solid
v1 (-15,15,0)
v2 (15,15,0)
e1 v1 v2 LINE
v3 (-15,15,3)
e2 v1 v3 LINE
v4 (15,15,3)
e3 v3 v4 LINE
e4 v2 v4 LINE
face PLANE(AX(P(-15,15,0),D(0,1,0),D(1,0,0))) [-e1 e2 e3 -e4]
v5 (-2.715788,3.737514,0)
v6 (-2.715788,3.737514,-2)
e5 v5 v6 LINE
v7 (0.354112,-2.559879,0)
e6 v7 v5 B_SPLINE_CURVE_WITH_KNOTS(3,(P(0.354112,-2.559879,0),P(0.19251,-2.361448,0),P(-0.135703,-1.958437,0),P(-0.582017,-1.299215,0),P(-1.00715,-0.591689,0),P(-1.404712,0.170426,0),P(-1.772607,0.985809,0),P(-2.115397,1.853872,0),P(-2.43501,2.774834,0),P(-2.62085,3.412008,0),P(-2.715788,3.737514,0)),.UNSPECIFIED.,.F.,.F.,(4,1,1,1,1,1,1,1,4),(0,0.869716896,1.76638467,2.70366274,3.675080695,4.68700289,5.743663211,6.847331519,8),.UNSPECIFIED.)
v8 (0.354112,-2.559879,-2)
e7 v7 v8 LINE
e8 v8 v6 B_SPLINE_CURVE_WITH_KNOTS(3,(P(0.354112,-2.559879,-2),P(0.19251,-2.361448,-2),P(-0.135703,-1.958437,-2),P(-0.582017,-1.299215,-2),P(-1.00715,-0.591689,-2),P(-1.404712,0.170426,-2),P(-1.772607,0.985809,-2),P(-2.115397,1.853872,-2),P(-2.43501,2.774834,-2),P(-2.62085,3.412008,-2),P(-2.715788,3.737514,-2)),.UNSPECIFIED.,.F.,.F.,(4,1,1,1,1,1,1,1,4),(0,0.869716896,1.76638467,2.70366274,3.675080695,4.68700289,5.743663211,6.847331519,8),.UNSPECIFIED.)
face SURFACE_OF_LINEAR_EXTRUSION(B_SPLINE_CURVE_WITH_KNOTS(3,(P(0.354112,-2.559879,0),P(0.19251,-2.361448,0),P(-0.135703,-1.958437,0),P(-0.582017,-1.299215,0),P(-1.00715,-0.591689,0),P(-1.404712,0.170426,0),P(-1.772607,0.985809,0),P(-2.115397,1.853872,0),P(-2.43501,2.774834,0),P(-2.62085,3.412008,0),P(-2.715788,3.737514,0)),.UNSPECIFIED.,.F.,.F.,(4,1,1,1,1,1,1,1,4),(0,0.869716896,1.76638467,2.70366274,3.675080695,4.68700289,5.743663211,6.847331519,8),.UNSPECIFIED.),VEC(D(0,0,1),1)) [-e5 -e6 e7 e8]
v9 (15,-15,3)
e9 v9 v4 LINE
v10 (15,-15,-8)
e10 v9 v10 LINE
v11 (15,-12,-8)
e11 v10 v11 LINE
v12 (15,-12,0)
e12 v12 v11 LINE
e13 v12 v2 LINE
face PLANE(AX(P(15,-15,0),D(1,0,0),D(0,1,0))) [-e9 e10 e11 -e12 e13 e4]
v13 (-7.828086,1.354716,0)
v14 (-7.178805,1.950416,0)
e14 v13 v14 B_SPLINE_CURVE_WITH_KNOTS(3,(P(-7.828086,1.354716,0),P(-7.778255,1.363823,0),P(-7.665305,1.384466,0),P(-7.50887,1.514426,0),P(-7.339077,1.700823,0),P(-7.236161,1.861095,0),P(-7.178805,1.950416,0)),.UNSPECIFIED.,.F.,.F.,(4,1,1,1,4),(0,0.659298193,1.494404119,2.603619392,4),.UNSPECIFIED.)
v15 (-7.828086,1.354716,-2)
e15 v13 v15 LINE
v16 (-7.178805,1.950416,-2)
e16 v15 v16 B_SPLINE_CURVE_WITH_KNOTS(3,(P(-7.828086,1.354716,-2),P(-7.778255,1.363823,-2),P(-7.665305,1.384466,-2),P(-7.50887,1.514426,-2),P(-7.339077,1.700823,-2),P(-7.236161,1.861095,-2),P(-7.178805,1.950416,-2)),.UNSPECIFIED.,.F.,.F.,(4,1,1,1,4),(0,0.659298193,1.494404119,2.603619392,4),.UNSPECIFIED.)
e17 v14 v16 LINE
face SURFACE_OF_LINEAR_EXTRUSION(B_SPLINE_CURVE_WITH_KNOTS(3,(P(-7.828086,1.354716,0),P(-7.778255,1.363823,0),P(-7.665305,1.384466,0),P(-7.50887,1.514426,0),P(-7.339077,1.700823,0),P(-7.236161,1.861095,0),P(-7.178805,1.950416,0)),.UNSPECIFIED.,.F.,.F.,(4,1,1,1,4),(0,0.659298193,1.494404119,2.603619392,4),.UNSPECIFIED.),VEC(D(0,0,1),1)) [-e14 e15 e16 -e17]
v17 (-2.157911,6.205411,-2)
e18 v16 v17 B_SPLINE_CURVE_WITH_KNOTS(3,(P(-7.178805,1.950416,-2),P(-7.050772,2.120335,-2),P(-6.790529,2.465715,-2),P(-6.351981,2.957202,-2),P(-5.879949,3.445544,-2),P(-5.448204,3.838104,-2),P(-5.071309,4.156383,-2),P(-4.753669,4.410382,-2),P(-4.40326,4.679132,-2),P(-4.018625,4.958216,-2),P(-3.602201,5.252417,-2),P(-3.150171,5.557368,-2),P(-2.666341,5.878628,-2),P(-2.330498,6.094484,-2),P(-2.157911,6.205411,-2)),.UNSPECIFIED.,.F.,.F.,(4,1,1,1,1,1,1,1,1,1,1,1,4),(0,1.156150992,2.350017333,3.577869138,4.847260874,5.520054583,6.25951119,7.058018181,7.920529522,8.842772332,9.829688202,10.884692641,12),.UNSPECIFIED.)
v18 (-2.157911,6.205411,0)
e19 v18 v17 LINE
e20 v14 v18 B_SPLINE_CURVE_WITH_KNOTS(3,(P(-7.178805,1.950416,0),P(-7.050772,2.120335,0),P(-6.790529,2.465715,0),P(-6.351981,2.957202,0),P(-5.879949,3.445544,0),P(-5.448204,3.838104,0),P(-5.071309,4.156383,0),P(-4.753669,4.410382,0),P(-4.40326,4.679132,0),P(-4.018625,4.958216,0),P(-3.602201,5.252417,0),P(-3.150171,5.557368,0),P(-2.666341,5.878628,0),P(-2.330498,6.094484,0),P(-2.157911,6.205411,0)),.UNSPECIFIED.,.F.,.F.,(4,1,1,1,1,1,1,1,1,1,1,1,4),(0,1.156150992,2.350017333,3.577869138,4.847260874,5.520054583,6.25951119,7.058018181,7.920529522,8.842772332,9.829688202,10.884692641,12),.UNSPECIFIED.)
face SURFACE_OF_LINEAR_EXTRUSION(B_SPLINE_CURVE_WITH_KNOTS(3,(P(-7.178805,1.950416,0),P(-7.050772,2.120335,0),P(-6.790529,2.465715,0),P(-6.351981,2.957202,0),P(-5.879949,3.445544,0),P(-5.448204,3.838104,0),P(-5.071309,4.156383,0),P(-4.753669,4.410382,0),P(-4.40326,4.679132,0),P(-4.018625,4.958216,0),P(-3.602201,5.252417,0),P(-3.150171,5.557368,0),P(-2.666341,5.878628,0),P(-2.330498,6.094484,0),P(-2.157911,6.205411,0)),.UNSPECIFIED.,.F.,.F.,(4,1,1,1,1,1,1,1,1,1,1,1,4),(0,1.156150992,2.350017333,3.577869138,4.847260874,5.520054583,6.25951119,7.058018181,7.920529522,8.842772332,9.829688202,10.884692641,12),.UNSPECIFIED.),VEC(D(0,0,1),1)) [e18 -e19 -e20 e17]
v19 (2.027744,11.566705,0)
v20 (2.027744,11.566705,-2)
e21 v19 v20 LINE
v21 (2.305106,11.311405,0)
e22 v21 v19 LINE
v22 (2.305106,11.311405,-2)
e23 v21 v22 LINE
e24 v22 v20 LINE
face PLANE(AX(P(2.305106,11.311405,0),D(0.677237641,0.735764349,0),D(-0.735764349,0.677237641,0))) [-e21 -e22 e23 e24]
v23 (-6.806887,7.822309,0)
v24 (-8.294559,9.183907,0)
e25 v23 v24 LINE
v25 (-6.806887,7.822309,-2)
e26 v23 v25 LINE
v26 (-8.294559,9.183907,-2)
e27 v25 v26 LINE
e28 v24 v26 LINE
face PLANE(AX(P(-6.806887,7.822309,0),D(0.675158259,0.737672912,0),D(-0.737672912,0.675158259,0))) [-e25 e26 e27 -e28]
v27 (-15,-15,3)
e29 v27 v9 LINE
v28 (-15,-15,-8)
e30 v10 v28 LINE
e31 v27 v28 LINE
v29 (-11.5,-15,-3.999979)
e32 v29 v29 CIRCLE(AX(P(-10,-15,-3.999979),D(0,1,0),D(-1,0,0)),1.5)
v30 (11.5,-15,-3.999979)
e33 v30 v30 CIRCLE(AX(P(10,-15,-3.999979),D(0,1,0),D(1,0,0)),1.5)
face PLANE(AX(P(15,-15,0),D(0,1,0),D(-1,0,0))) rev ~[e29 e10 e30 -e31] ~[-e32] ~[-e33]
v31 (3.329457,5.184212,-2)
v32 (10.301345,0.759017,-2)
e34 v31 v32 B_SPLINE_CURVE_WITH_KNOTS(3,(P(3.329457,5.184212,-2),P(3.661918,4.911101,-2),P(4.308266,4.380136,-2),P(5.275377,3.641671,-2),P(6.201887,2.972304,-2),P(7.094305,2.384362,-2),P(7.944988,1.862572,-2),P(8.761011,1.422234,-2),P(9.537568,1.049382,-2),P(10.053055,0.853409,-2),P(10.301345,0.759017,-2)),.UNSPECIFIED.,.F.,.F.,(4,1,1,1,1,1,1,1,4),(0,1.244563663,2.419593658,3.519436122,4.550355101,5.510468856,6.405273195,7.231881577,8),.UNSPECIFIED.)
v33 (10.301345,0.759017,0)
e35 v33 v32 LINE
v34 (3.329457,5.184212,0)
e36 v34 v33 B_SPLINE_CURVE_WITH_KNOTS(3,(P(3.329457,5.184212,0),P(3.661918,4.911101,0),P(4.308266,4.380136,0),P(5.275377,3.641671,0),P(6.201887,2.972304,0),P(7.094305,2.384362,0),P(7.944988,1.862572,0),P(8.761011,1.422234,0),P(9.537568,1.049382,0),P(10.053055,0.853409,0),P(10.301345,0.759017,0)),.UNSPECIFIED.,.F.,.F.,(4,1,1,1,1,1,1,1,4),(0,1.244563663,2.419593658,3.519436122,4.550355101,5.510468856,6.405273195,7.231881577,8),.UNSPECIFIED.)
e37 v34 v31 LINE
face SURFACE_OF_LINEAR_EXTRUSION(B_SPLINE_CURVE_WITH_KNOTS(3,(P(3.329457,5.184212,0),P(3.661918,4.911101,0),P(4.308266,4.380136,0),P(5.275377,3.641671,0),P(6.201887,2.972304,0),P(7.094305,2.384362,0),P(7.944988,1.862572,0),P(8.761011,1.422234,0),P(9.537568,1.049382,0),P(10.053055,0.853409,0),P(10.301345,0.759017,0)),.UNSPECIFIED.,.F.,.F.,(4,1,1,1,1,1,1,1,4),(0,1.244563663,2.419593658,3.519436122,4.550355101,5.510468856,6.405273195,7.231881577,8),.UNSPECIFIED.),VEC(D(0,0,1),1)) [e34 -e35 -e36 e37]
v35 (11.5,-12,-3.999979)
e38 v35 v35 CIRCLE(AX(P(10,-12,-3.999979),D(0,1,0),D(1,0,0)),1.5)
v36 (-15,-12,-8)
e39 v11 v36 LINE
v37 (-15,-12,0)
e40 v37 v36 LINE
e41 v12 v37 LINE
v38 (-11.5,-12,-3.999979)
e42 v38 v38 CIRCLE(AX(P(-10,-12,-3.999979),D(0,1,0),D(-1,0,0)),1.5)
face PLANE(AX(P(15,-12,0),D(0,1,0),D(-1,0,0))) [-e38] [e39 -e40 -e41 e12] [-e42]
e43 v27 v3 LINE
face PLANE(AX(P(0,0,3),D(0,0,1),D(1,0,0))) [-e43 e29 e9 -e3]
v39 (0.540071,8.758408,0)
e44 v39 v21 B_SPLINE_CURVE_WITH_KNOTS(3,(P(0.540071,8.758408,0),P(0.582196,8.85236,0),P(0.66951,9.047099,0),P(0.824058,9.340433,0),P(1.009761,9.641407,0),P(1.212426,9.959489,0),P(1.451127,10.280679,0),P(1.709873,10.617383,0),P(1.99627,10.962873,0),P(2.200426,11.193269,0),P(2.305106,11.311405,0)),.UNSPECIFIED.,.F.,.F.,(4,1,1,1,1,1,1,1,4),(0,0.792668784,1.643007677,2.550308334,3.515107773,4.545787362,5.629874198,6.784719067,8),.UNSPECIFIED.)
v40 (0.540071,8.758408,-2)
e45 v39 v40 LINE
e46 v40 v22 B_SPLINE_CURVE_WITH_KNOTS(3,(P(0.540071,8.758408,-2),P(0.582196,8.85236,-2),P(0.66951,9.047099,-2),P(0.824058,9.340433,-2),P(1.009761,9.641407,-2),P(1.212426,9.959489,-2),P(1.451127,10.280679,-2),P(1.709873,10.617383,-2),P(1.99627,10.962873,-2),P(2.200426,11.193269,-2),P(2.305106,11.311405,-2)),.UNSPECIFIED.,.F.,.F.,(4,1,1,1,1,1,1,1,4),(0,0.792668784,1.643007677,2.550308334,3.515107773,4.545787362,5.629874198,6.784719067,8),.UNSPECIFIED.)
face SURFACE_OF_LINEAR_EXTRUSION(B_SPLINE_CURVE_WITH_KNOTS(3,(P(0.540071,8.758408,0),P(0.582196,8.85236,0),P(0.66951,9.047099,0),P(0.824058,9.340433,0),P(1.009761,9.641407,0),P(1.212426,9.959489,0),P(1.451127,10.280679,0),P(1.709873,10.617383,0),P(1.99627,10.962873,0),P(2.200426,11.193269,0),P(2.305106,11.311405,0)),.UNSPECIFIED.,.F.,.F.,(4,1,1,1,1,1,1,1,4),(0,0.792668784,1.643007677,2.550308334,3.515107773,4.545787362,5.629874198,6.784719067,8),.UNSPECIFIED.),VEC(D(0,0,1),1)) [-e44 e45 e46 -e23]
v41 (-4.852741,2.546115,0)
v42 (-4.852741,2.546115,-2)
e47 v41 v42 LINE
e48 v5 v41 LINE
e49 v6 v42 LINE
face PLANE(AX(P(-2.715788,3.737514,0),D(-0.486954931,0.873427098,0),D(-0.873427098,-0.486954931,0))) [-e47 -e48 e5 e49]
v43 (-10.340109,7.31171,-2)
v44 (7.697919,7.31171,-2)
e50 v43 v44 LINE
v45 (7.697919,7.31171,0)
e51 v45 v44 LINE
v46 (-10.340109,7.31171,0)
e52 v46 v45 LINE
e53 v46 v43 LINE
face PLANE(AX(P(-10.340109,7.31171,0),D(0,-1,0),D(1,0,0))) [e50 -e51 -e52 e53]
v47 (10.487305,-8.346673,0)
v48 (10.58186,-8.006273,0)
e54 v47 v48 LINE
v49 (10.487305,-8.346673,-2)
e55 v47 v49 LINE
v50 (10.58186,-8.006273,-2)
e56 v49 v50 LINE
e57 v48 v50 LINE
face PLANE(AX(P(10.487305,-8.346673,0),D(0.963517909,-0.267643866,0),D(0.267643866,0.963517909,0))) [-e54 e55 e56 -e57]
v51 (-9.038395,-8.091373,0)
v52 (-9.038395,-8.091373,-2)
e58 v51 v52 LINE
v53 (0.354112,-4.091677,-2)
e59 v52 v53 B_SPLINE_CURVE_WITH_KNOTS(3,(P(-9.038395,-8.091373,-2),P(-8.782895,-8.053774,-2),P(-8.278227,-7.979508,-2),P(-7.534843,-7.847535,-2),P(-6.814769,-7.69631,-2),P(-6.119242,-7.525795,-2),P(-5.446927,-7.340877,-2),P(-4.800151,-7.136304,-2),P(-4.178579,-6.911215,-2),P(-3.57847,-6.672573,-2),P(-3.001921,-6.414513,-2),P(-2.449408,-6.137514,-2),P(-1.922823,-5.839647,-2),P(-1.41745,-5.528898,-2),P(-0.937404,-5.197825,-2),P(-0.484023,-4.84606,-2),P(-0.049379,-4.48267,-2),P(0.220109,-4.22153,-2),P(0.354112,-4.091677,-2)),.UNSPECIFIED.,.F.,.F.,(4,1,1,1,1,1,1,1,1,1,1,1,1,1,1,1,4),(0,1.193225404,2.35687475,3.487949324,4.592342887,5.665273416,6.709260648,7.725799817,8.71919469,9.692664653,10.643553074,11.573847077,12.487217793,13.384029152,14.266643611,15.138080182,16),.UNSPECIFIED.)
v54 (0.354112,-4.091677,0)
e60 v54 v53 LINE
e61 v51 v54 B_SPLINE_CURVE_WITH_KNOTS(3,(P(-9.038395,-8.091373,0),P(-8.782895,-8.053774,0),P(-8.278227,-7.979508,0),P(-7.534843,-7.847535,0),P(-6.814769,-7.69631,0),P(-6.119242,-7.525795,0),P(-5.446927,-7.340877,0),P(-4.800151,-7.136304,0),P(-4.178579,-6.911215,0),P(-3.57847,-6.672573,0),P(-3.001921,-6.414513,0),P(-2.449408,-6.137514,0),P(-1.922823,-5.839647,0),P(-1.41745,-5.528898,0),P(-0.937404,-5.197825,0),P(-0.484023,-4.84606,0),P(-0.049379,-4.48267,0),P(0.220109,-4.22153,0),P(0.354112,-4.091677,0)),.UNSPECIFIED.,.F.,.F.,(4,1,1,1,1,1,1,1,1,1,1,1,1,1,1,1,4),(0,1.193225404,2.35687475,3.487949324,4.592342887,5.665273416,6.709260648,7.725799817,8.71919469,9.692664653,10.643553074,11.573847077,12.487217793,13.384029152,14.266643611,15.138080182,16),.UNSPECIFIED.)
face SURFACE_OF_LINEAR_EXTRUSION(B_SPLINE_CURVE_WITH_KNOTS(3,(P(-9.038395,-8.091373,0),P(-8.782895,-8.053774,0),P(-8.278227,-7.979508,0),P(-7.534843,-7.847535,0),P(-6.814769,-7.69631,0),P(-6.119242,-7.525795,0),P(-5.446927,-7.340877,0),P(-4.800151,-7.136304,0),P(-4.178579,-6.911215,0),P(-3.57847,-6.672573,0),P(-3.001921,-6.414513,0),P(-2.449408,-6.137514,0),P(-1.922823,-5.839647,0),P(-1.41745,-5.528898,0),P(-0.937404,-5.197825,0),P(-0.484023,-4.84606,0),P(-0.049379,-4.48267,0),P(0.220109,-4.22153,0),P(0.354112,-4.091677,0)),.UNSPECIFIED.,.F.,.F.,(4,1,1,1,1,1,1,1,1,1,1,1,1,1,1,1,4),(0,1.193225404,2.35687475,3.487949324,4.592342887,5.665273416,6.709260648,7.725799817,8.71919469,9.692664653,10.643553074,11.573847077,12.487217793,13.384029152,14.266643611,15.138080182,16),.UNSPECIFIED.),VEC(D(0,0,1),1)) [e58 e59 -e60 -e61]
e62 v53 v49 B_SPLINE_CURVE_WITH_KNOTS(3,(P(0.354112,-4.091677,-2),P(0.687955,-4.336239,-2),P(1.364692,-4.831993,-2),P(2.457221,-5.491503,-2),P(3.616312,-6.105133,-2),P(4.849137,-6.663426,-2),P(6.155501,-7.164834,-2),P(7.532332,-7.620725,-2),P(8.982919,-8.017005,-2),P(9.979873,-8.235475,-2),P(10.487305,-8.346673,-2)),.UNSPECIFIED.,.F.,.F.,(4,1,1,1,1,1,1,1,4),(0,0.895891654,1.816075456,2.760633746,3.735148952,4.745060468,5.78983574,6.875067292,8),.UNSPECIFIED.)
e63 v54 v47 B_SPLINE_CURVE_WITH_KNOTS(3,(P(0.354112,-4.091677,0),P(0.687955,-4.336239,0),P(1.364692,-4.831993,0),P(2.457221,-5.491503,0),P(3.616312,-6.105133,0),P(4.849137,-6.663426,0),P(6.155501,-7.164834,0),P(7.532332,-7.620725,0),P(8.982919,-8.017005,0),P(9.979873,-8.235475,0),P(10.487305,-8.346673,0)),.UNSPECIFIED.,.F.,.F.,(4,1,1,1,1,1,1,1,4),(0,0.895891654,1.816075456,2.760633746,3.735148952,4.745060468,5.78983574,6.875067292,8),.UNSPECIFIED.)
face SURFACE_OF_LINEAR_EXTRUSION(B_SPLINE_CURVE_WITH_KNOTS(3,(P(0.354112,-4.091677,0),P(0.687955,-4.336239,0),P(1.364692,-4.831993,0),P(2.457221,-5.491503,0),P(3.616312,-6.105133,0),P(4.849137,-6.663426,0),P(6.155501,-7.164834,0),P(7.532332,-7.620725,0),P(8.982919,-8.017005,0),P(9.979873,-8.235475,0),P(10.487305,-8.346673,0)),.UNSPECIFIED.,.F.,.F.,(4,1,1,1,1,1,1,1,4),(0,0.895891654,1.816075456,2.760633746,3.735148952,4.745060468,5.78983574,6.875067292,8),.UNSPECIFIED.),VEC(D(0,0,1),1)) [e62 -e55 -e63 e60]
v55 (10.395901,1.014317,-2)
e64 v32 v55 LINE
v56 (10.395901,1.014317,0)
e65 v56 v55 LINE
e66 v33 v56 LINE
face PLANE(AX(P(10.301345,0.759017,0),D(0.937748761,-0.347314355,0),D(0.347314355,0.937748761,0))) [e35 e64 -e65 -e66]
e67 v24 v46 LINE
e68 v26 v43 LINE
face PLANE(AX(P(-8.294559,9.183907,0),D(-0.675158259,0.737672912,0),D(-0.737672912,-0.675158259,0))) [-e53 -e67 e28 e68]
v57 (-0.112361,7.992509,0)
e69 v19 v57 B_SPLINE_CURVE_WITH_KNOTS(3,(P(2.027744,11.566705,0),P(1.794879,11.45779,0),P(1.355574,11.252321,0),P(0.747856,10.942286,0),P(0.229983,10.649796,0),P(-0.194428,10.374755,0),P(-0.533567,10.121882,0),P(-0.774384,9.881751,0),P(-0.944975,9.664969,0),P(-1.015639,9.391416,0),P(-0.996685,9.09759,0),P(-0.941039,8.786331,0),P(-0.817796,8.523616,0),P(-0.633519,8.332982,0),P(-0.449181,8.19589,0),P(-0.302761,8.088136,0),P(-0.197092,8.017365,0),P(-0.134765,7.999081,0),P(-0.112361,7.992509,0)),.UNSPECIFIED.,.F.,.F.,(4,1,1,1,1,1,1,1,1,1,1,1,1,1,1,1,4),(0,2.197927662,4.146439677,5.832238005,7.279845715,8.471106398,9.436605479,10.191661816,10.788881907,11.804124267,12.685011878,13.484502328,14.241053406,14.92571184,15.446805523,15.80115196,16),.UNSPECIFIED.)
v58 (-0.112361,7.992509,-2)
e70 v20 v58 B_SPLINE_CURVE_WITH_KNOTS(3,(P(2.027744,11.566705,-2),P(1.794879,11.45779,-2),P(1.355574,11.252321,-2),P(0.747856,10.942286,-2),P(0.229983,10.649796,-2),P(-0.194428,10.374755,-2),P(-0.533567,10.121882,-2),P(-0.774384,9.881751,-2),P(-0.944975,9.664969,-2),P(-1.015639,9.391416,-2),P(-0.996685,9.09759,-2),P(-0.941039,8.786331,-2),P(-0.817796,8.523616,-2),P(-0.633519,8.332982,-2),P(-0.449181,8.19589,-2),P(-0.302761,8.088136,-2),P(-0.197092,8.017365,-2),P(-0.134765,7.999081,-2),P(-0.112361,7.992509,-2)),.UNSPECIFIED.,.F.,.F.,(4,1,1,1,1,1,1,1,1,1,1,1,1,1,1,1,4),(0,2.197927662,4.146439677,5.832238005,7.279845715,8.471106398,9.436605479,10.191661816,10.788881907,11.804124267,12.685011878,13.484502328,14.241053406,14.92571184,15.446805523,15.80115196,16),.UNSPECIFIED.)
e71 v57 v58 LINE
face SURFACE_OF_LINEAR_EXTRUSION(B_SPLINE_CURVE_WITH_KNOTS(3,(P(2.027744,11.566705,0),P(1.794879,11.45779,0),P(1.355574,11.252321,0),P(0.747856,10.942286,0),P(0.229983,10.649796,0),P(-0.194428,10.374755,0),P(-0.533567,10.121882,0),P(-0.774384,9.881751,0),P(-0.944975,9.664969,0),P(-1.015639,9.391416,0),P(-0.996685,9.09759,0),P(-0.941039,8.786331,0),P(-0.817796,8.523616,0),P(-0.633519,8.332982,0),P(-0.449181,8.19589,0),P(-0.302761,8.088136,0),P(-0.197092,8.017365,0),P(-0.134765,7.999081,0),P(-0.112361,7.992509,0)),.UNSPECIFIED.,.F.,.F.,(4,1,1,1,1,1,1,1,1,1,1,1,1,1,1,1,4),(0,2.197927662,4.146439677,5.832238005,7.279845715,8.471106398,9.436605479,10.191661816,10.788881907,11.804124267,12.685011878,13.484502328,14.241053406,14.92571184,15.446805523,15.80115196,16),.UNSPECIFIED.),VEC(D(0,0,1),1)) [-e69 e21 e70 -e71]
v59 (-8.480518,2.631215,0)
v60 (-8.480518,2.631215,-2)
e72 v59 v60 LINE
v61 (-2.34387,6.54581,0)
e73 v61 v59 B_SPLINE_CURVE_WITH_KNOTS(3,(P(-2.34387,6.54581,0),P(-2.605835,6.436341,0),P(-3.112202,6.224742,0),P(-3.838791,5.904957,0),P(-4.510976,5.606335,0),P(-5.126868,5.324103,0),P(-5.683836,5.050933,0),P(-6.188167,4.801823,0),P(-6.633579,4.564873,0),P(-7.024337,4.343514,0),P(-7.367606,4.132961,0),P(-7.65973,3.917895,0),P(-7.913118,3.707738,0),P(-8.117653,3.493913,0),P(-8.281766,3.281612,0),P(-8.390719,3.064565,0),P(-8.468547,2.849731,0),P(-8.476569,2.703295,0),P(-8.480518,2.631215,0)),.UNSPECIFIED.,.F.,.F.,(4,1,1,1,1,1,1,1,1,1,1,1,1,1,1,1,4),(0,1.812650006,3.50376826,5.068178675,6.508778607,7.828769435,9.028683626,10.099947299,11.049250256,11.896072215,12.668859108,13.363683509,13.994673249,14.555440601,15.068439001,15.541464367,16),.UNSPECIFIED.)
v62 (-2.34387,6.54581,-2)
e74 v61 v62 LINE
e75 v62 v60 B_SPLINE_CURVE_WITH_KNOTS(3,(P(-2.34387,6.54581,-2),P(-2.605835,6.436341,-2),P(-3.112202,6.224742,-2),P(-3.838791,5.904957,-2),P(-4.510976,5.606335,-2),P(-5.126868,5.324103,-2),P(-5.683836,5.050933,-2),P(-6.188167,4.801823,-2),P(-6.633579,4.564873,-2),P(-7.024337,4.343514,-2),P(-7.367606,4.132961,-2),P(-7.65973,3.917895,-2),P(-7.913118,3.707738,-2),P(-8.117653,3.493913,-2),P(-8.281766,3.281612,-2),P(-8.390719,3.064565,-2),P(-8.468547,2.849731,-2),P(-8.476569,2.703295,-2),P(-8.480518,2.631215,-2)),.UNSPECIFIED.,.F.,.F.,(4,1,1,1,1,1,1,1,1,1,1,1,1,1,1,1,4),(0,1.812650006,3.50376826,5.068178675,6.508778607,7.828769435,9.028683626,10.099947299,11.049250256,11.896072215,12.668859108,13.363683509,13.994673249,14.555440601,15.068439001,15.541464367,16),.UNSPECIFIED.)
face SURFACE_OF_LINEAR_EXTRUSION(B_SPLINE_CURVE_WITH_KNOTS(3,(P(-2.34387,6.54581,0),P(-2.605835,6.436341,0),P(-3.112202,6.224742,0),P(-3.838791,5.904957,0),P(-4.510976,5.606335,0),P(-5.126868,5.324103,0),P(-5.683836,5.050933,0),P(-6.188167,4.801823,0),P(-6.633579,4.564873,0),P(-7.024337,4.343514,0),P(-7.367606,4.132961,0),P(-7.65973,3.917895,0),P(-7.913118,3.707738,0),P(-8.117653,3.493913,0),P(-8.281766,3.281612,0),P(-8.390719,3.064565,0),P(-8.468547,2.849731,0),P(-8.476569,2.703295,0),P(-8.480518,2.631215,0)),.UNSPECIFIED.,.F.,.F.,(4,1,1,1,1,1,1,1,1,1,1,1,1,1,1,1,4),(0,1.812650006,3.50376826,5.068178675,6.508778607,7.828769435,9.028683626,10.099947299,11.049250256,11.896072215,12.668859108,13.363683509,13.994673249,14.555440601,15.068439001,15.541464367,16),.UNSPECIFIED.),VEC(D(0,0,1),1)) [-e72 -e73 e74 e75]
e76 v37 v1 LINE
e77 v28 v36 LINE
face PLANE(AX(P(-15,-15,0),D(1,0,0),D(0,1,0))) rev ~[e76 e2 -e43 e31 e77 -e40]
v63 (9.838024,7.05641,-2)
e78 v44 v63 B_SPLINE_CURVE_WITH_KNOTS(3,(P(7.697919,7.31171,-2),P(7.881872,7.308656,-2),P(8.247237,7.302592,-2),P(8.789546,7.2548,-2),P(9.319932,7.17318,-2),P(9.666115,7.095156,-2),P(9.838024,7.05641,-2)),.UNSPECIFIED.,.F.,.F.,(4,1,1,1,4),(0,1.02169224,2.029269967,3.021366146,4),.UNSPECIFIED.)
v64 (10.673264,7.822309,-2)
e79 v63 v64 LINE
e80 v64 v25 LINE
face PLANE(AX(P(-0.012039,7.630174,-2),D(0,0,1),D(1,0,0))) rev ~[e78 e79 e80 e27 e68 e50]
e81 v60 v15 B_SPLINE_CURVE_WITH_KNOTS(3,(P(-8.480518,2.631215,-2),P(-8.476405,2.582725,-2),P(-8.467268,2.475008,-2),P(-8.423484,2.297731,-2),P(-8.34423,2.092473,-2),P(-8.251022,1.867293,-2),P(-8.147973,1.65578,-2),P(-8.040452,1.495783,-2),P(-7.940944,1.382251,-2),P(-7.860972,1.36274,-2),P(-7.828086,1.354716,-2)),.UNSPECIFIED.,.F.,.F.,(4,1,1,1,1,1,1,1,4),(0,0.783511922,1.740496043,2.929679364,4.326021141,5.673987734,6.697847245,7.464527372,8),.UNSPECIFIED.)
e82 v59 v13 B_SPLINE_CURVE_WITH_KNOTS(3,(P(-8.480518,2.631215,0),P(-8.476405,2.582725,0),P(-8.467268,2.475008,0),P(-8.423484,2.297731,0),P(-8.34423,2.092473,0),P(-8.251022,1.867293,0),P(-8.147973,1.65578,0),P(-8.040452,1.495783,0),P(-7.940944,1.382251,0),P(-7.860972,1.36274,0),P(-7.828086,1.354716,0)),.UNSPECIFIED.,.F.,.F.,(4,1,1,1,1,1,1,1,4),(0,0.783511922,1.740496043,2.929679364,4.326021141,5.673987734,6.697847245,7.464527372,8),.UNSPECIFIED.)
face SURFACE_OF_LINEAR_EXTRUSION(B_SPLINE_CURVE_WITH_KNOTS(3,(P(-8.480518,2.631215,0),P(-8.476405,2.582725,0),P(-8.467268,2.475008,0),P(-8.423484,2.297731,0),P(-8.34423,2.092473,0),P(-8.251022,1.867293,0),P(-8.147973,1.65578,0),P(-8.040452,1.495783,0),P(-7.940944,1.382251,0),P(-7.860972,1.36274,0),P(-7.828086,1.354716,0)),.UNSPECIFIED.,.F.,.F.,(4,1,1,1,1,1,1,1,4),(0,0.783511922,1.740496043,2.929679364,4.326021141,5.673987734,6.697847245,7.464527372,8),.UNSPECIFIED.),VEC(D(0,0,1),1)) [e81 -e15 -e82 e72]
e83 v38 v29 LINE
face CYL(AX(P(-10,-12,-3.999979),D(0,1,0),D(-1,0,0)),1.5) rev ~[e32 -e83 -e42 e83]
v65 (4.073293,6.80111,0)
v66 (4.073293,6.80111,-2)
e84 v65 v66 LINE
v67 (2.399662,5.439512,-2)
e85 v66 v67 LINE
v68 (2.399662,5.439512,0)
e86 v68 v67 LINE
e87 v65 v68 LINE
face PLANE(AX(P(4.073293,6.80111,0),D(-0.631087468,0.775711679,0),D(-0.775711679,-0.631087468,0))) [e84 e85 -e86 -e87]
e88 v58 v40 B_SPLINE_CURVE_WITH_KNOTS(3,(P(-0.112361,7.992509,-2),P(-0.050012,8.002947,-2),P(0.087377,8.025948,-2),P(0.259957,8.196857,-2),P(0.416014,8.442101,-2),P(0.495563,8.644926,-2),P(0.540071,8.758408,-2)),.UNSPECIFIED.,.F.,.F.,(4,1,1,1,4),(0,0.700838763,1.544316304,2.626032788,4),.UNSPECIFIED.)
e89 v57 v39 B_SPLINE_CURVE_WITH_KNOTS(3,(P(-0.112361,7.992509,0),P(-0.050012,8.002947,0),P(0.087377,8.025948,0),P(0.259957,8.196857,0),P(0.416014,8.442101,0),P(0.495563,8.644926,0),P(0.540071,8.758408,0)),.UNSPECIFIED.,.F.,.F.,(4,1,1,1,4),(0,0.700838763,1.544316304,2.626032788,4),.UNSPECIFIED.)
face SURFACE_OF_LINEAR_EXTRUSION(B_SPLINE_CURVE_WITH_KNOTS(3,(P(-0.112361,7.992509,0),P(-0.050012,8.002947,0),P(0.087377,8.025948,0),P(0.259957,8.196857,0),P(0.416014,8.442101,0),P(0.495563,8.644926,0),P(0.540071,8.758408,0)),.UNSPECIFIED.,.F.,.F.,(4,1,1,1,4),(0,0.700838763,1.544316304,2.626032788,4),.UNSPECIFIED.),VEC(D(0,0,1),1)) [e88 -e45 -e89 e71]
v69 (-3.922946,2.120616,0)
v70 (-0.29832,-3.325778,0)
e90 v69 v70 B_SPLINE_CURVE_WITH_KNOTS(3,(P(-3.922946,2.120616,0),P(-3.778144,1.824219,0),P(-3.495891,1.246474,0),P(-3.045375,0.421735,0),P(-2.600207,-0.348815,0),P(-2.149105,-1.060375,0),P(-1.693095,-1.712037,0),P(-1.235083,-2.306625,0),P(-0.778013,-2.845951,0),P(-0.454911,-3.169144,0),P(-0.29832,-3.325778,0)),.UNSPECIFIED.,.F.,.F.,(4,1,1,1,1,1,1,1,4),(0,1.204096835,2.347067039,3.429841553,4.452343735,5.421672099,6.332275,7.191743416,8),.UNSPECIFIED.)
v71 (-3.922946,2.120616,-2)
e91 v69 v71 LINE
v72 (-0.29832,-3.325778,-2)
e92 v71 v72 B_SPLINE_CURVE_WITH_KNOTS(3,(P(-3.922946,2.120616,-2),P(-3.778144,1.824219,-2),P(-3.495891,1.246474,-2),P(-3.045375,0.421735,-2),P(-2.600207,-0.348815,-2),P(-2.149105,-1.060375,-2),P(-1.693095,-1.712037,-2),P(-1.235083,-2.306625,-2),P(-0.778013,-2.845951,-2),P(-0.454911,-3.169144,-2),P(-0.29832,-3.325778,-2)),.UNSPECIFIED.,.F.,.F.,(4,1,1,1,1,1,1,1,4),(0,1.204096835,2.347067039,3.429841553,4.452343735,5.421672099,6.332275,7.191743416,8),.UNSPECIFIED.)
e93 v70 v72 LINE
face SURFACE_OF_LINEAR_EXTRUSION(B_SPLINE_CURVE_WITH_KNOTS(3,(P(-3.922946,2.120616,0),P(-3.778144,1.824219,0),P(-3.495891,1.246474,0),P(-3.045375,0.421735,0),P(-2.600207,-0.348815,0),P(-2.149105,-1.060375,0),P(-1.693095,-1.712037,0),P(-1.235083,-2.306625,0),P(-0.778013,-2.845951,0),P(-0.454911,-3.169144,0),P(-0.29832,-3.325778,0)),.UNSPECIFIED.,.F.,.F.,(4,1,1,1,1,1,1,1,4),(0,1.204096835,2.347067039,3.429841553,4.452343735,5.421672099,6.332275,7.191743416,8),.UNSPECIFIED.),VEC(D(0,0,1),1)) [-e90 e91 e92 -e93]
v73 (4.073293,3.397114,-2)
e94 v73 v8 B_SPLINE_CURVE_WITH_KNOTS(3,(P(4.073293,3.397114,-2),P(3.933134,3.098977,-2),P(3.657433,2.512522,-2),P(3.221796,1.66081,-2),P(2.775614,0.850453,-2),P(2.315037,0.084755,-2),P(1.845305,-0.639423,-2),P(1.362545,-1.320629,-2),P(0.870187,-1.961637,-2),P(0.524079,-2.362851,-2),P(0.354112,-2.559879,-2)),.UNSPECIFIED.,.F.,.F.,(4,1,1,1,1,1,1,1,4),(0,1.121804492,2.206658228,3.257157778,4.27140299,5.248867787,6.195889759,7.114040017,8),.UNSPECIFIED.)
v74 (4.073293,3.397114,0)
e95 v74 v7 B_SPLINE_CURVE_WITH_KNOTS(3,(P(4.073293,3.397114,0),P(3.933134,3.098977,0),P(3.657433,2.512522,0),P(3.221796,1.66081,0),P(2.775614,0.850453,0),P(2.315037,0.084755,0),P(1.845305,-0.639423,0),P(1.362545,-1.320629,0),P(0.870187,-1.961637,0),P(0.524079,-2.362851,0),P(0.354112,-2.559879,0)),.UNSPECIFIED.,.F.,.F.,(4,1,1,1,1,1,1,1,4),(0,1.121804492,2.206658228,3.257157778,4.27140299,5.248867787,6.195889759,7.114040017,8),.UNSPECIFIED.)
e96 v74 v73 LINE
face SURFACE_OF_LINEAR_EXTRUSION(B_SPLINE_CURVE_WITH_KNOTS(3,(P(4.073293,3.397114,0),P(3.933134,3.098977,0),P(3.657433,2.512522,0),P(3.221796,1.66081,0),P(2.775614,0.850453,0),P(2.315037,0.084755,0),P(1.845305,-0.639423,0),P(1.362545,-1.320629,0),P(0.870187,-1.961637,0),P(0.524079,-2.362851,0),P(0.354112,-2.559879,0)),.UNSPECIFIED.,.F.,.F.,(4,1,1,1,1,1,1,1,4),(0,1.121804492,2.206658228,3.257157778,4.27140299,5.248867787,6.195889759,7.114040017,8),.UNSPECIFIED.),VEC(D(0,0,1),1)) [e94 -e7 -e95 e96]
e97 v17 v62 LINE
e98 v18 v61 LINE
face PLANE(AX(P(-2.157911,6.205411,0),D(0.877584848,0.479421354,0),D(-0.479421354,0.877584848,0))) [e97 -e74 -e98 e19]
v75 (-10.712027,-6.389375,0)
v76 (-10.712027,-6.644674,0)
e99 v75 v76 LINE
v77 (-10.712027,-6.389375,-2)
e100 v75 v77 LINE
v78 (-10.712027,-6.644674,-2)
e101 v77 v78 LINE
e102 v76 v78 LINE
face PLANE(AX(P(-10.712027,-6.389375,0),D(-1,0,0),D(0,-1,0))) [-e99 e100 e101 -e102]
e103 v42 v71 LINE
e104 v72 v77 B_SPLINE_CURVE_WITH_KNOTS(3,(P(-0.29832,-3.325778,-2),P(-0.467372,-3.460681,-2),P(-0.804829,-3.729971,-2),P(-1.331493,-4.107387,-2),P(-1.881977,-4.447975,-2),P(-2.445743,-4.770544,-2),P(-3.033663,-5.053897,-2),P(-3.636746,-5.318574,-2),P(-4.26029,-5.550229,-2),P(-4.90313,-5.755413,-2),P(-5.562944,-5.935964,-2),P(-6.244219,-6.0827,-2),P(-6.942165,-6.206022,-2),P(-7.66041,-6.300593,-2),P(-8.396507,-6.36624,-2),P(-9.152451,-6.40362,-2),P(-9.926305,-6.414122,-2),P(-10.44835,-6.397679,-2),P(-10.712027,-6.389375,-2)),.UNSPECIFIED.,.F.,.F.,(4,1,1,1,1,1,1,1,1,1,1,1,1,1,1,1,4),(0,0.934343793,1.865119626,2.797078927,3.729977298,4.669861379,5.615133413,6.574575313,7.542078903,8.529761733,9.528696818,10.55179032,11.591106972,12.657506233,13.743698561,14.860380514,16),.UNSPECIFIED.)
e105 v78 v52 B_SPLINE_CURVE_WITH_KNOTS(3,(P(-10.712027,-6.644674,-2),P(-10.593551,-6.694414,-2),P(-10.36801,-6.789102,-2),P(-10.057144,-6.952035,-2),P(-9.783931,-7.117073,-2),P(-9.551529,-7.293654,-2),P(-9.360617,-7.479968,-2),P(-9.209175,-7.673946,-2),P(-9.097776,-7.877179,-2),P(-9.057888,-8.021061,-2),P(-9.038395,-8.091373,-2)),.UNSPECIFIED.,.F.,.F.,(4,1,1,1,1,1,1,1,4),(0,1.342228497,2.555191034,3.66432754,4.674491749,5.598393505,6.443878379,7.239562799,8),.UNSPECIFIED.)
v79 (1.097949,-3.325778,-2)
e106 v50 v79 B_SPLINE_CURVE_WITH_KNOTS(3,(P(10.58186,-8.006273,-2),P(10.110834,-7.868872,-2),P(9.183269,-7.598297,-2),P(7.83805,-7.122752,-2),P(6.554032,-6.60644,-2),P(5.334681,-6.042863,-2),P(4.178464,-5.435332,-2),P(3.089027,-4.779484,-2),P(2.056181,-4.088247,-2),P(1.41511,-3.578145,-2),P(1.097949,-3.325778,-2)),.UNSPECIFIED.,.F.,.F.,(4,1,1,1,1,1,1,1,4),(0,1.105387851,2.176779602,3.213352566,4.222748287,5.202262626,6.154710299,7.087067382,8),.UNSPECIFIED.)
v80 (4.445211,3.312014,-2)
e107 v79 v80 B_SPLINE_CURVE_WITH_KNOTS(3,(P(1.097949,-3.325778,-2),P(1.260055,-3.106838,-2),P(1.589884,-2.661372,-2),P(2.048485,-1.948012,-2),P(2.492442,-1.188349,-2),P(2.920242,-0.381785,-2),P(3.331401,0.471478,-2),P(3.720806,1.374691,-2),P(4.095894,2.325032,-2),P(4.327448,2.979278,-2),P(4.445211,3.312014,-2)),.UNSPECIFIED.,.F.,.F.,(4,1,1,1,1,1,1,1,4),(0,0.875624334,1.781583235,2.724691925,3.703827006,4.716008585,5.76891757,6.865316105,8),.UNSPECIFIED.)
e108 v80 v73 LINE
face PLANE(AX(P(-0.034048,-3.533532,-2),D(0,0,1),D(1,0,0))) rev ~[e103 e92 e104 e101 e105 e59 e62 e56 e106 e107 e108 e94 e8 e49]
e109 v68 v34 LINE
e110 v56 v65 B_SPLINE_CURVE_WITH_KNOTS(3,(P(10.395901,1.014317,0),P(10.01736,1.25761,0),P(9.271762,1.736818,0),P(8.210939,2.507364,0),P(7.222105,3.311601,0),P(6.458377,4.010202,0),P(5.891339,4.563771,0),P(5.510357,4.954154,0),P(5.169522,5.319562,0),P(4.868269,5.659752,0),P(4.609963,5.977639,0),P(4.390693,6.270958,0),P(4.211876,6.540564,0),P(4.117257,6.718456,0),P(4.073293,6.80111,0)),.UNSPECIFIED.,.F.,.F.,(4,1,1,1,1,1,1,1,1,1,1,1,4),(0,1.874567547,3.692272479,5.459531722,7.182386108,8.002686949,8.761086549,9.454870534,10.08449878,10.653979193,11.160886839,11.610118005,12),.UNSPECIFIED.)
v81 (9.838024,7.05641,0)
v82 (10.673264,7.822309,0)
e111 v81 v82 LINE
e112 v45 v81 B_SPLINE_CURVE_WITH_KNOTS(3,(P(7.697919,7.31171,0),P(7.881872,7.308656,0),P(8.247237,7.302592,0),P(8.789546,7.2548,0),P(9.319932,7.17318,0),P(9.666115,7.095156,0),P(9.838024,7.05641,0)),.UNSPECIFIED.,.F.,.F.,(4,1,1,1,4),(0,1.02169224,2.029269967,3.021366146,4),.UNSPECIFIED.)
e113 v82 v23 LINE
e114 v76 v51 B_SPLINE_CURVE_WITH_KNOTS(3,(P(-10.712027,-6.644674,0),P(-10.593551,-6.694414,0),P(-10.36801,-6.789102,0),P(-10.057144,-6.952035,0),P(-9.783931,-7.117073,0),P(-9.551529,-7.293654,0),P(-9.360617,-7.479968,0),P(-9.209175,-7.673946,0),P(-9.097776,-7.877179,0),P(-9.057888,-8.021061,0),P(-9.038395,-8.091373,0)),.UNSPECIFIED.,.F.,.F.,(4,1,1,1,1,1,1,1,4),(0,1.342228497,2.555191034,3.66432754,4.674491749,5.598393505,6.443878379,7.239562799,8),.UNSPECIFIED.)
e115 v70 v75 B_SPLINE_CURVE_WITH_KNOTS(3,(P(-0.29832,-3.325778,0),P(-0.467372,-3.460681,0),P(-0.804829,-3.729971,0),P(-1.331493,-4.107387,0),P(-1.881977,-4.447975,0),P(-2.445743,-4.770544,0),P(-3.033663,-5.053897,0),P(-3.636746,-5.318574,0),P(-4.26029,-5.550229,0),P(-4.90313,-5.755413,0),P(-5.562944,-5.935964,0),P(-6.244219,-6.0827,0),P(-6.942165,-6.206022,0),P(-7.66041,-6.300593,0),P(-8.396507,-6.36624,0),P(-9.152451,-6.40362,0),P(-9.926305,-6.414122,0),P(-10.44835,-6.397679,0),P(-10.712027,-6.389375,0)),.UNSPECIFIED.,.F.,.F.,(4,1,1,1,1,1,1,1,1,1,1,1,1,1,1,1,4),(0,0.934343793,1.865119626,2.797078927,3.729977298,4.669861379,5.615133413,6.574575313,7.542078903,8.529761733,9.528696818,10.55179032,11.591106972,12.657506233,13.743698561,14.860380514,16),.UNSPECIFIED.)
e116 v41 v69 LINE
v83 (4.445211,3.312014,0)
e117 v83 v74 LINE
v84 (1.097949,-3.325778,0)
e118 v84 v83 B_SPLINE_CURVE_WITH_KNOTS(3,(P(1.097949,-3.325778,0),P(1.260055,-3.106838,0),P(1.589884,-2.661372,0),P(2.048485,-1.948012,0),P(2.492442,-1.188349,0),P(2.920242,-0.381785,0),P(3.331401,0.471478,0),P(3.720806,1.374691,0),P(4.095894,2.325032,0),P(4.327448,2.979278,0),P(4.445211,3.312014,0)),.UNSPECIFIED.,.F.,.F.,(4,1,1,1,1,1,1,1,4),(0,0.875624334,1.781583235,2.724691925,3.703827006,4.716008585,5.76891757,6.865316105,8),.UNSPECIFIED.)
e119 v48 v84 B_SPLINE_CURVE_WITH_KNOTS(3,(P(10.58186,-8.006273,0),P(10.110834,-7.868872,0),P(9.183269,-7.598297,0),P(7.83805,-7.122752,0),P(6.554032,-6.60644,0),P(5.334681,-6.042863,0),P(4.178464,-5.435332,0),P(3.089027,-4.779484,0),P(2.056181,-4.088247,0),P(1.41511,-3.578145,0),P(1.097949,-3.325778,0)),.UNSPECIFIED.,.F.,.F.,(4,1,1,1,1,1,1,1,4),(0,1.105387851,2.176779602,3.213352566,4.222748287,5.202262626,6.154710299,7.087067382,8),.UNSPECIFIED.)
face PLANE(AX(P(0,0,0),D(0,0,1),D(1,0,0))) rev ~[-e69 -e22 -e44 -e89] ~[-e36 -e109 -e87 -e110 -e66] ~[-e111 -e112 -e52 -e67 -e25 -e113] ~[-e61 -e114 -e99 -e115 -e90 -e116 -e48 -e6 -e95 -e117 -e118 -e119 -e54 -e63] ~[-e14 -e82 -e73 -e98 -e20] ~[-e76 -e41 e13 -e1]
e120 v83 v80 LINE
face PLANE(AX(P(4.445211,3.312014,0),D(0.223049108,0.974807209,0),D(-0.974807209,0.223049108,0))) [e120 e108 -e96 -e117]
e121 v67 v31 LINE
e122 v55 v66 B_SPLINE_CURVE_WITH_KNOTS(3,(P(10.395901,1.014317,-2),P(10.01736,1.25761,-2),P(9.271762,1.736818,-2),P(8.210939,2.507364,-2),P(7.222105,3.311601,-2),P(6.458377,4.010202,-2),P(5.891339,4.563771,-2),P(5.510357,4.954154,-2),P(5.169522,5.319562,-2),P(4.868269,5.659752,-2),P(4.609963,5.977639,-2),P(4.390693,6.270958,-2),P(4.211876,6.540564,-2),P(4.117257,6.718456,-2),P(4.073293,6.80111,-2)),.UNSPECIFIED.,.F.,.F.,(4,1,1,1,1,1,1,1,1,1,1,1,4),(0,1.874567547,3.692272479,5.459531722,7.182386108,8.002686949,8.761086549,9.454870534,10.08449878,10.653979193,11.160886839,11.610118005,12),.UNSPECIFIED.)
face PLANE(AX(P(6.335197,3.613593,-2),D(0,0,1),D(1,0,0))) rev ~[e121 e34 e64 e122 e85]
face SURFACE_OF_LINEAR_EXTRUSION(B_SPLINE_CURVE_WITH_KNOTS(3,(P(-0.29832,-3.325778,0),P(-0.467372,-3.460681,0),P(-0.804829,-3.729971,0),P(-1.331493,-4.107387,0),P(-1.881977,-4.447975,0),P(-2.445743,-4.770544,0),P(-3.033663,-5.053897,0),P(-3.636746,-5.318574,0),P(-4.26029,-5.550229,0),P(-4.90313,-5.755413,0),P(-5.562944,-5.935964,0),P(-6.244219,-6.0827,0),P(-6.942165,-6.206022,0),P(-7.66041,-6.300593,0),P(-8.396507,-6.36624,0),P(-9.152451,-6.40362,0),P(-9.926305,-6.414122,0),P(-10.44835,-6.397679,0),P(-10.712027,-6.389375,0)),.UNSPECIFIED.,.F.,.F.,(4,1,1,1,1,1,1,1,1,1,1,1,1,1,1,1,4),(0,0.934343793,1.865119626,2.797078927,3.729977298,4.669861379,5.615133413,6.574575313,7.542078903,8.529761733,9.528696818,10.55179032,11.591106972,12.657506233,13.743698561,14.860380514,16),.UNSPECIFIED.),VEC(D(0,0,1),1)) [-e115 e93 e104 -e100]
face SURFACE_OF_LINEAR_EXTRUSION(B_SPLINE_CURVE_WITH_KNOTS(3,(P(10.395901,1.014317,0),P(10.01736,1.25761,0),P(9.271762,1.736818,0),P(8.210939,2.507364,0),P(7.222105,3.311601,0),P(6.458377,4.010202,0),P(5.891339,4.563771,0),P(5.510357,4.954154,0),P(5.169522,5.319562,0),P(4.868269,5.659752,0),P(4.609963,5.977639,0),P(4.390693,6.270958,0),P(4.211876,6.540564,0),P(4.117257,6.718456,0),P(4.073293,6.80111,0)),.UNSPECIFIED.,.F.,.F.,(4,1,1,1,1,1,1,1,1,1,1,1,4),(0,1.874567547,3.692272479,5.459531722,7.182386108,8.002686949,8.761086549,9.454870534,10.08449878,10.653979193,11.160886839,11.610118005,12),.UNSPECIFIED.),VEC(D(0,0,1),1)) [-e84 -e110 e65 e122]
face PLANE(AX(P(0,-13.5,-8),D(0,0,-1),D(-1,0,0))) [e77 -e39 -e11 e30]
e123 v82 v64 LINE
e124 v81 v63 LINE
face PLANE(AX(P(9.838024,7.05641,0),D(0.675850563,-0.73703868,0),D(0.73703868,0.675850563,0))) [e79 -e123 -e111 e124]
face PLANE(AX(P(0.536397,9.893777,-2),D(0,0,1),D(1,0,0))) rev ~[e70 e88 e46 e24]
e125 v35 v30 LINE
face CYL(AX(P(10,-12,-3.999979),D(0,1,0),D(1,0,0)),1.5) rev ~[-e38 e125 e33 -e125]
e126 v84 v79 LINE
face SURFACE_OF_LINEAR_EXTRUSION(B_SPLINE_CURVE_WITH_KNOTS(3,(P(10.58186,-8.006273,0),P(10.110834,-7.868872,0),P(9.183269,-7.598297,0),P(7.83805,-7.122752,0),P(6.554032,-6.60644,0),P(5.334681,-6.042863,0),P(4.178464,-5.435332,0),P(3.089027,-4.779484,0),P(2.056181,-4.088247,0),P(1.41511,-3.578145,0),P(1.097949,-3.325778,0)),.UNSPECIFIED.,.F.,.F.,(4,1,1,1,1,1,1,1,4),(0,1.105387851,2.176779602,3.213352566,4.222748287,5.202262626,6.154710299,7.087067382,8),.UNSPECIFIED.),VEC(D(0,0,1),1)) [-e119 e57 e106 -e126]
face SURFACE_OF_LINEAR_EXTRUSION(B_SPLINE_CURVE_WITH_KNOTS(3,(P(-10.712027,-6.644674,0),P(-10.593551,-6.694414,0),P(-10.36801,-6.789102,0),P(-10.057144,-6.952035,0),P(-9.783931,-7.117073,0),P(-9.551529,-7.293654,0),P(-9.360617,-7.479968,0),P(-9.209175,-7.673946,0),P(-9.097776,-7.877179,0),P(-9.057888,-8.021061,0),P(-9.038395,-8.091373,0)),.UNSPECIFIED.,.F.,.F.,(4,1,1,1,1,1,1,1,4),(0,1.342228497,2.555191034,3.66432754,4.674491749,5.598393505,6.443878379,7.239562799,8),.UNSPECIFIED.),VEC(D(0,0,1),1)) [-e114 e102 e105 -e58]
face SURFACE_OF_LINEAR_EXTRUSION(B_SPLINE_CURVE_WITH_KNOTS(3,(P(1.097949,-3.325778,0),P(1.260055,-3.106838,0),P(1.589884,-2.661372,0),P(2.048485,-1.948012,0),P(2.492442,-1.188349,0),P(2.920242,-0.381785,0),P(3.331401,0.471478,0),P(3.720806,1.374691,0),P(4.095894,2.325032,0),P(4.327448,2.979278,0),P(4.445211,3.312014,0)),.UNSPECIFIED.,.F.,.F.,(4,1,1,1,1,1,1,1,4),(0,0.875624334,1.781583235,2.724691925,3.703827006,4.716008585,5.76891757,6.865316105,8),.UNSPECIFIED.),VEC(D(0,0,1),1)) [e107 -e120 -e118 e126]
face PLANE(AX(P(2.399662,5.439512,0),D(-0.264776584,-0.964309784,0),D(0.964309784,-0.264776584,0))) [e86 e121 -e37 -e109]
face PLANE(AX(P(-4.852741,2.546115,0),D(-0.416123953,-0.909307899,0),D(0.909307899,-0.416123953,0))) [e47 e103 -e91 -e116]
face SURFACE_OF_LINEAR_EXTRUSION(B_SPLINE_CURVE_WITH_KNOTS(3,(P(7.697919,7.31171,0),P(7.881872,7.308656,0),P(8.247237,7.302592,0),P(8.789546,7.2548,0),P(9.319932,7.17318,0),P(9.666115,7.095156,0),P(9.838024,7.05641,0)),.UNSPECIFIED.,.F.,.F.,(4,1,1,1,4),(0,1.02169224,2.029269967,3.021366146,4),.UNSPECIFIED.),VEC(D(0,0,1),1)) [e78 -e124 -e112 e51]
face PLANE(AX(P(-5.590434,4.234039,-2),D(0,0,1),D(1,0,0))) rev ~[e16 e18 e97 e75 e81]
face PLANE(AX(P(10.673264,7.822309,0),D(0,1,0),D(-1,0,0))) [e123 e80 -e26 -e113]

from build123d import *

# Parameters (mm, degrees)
SKETCH_1_W          = 30
SKETCH_1_H          = 30
EXTRUDE_1_DEPTH     = 3
SKETCH_2_W          = 30
SKETCH_2_H          = 3
EXTRUDE_2_DEPTH     = 8
EXTRUDE_3_DEPTH     = 2
SKETCH_4_R          = 1.5
CUT_EXTRUDE_1_DEPTH = 32.906112399


with BuildPart() as part:
    # 草图1 → 凸台-拉伸1 (new body)
    with BuildSketch(Plane.XY):
        Rectangle(SKETCH_1_W, SKETCH_1_H)
    extrude(amount=EXTRUDE_1_DEPTH)

    # 草图2 → 凸台-拉伸2 (add)
    with BuildSketch(Plane(origin=(0, 0, 0), x_dir=(-1, 0, 0), z_dir=(0, 0, -1))):
        with Locations((0, -13.5)):
            Rectangle(SKETCH_2_W, SKETCH_2_H)
    extrude(amount=EXTRUDE_2_DEPTH)

    # 草图3 → 凸台-拉伸3 (add)
    with BuildSketch(Plane(origin=(0, 0, 0), x_dir=(-1, 0, 0), z_dir=(0, 0, -1))):
        with BuildLine():
            Line((-2.305106483, 11.311404977), (-2.027743838, 11.566704685))
            add(Edge.make_bspline(
                [(-2.027743838, 11.566704685), (-1.794878972, 11.457790237), (-1.355574197, 11.252320696), (-0.747856089, 10.942285903), (-0.229982958, 10.649795688), (0.194428064, 10.374755127), (0.533566886, 10.121882158), (0.77438392, 9.881751463), (0.944974603, 9.664968691), (1.015639241, 9.391415806), (0.9966854, 9.097589735), (0.941039457, 8.786331398), (0.817795551, 8.5236158), (0.633519261, 8.332982487), (0.449181288, 8.195889891), (0.302760924, 8.088135642), (0.197092176, 8.017364927), (0.134764911, 7.999081008), (0.112361118, 7.992508778)],
                knots=[0, 0, 0, 0, 2.197927662, 4.146439677, 5.832238005, 7.279845715, 8.471106398, 9.436605479, 10.191661816, 10.788881907, 11.804124267, 12.685011878, 13.484502328, 14.241053406, 14.92571184, 15.446805523, 15.80115196, 16, 16, 16, 16], degree=3))
            add(Edge.make_bspline(
                [(0.112361118, 7.992508778), (0.050011554, 8.002947143), (-0.08737732, 8.02594835), (-0.259956516, 8.196857468), (-0.416014276, 8.442101169), (-0.49556336, 8.644926258), (-0.540071468, 8.758407901)],
                knots=[0, 0, 0, 0, 0.700838763, 1.544316304, 2.626032788, 4, 4, 4, 4], degree=3))
            add(Edge.make_bspline(
                [(-0.540071468, 8.758407901), (-0.5821962, 8.852359749), (-0.669510424, 9.047098852), (-0.824057914, 9.340433436), (-1.009761281, 9.641406724), (-1.212425661, 9.95948938), (-1.451127048, 10.280678596), (-1.709872913, 10.617383427), (-1.996269827, 10.962872749), (-2.200425668, 11.193269267), (-2.305106483, 11.311404977)],
                knots=[0, 0, 0, 0, 0.792668784, 1.643007677, 2.550308334, 3.515107773, 4.545787362, 5.629874198, 6.784719067, 8, 8, 8, 8], degree=3))
        make_face()
        with BuildLine():
            Line((-10.673263566, 7.822308973), (6.806886784, 7.822308973))
            Line((6.806886784, 7.822308973), (8.294559155, 9.183907414))
            Line((8.294559155, 9.183907414), (10.340108664, 7.311709558))
            Line((10.340108664, 7.311709558), (-7.697918825, 7.311709558))
            add(Edge.make_bspline(
                [(-7.697918825, 7.311709558), (-7.881871988, 7.308656331), (-8.247237029, 7.302592056), (-8.789546429, 7.25479995), (-9.319932334, 7.173180033), (-9.666114906, 7.095155579), (-9.838023782, 7.056409851)],
                knots=[0, 0, 0, 0, 1.02169224, 2.029269967, 3.021366146, 4, 4, 4, 4], degree=3))
            Line((-9.838023782, 7.056409851), (-10.673263566, 7.822308973))
        make_face()
        with BuildLine():
            Line((-4.073293347, 6.801110143), (-2.399661931, 5.439511702))
            Line((-2.399661931, 5.439511702), (-3.329457162, 5.184211995))
            add(Edge.make_bspline(
                [(-3.329457162, 5.184211995), (-3.661918376, 4.911100535), (-4.308266223, 4.38013633), (-5.275377087, 3.641671086), (-6.20188694, 2.972304041), (-7.094304982, 2.384361746), (-7.944987667, 1.862571734), (-8.76101121, 1.42223379), (-9.537567982, 1.049381648), (-10.053055168, 0.85340936), (-10.301345473, 0.759017063)],
                knots=[0, 0, 0, 0, 1.244563663, 2.419593658, 3.519436122, 4.550355101, 5.510468856, 6.405273195, 7.231881577, 8, 8, 8, 8], degree=3))
            Line((-10.301345473, 0.759017063), (-10.39590092, 1.014316771))
            add(Edge.make_bspline(
                [(-10.39590092, 1.014316771), (-10.017360387, 1.257610495), (-9.271761863, 1.736817941), (-8.210938681, 2.507364265), (-7.222105067, 3.311601244), (-6.458376899, 4.010201777), (-5.891338542, 4.563771343), (-5.510356994, 4.954154228), (-5.169522327, 5.319561824), (-4.868268622, 5.659752471), (-4.609963017, 5.977639283), (-4.390692723, 6.270958293), (-4.211876273, 6.540564482), (-4.117256895, 6.718455576), (-4.073293347, 6.801110143)],
                knots=[0, 0, 0, 0, 1.874567547, 3.692272479, 5.459531722, 7.182386108, 8.002686949, 8.761086549, 9.454870534, 10.08449878, 10.653979193, 11.160886839, 11.610118005, 12, 12, 12, 12], degree=3))
        make_face()
        with BuildLine():
            Line((2.157910627, 6.205410825), (2.343869674, 6.545810435))
            add(Edge.make_bspline(
                [(2.343869674, 6.545810435), (2.605834901, 6.436341272), (3.112201517, 6.224742464), (3.838791155, 5.904957081), (4.5109758, 5.606334574), (5.126868337, 5.32410298), (5.683835605, 5.050933425), (6.18816715, 4.801822938), (6.633579267, 4.564873458), (7.024336582, 4.343514345), (7.367605722, 4.13296053), (7.659729552, 3.917895038), (7.913118437, 3.70773837), (8.117652642, 3.493912706), (8.281765506, 3.281612264), (8.390719488, 3.064564894), (8.468546645, 2.849731388), (8.476569277, 2.703294503), (8.480518201, 2.631214919)],
                knots=[0, 0, 0, 0, 1.812650006, 3.50376826, 5.068178675, 6.508778607, 7.828769435, 9.028683626, 10.099947299, 11.049250256, 11.896072215, 12.668859108, 13.363683509, 13.994673249, 14.555440601, 15.068439001, 15.541464367, 16, 16, 16, 16], degree=3))
            add(Edge.make_bspline(
                [(8.480518201, 2.631214919), (8.476404976, 2.582724581), (8.467267846, 2.475007981), (8.423484243, 2.297731425), (8.344229944, 2.09247344), (8.25102173, 1.867292552), (8.147973226, 1.655779591), (8.0404517, 1.495783125), (7.940944184, 1.382250748), (7.860971901, 1.362739725), (7.828085615, 1.354716381)],
                knots=[0, 0, 0, 0, 0.783511922, 1.740496043, 2.929679364, 4.326021141, 5.673987734, 6.697847245, 7.464527372, 8, 8, 8, 8], degree=3))
            add(Edge.make_bspline(
                [(7.828085615, 1.354716381), (7.778254634, 1.363823494), (7.665304798, 1.384466213), (7.508869781, 1.514426132), (7.33907668, 1.700823102), (7.236160537, 1.861095257), (7.178804877, 1.950415698)],
                knots=[0, 0, 0, 0, 0.659298193, 1.494404119, 2.603619392, 4, 4, 4, 4], degree=3))
            add(Edge.make_bspline(
                [(7.178804877, 1.950415698), (7.05077175, 2.120334623), (6.790528866, 2.465715476), (6.351980668, 2.957201814), (5.879949473, 3.445544273), (5.448204004, 3.838103862), (5.071308787, 4.156382587), (4.753669197, 4.410381652), (4.40326017, 4.679131769), (4.018624623, 4.958216125), (3.602200666, 5.252417066), (3.150171333, 5.557368175), (2.666341418, 5.878628105), (2.330498068, 6.094484039), (2.157910627, 6.205410825)],
                knots=[0, 0, 0, 0, 1.156150992, 2.350017333, 3.577869138, 4.847260874, 5.520054583, 6.25951119, 7.058018181, 7.920529522, 8.842772332, 9.829688202, 10.884692641, 12, 12, 12, 12], degree=3))
        make_face()
        with BuildLine():
            Line((4.852740874, 2.546115016), (3.922945643, 2.120615504))
            add(Edge.make_bspline(
                [(3.922945643, 2.120615504), (3.778143809, 1.82421938), (3.495891085, 1.246473844), (3.04537482, 0.421735242), (2.600207435, -0.348814984), (2.14910532, -1.060375348), (1.693094833, -1.712036898), (1.235082828, -2.306624664), (0.778013133, -2.84595086), (0.454910586, -3.169143954), (0.298320165, -3.325778259)],
                knots=[0, 0, 0, 0, 1.204096835, 2.347067039, 3.429841553, 4.452343735, 5.421672099, 6.332275, 7.191743416, 8, 8, 8, 8], degree=3))
            add(Edge.make_bspline(
                [(0.298320165, -3.325778259), (0.467371652, -3.460680933), (0.804829073, -3.729971132), (1.331492998, -4.10738687), (1.88197699, -4.447975474), (2.445743055, -4.770543562), (3.033662777, -5.053897321), (3.636746234, -5.318574444), (4.26028991, -5.550228819), (4.903129981, -5.75541281), (5.562944375, -5.935964084), (6.244219172, -6.082699716), (6.942165498, -6.206022022), (7.660409719, -6.300592633), (8.396506838, -6.36624034), (9.152451449, -6.40361966), (9.926304872, -6.414121821), (10.448350425, -6.397679491), (10.712026756, -6.38937475)],
                knots=[0, 0, 0, 0, 0.934343793, 1.865119626, 2.797078927, 3.729977298, 4.669861379, 5.615133413, 6.574575313, 7.542078903, 8.529761733, 9.528696818, 10.55179032, 11.591106972, 12.657506233, 13.743698561, 14.860380514, 16, 16, 16, 16], degree=3))
            Line((10.712026756, -6.38937475), (10.712026756, -6.644674457))
            add(Edge.make_bspline(
                [(10.712026756, -6.644674457), (10.593551143, -6.694413754), (10.368009945, -6.789102106), (10.057143895, -6.952034998), (9.783930664, -7.117072932), (9.551528569, -7.293653878), (9.360617359, -7.47996839), (9.209175094, -7.673945806), (9.097776051, -7.877179087), (9.057887744, -8.021061239), (9.03839534, -8.091372801)],
                knots=[0, 0, 0, 0, 1.342228497, 2.555191034, 3.66432754, 4.674491749, 5.598393505, 6.443878379, 7.239562799, 8, 8, 8, 8], degree=3))
            add(Edge.make_bspline(
                [(9.03839534, -8.091372801), (8.782895007, -8.053774011), (8.278227338, -7.979508381), (7.534842543, -7.847534784), (6.814769096, -7.696310098), (6.119241864, -7.525795044), (5.446927157, -7.340877009), (4.800151359, -7.136303868), (4.178578687, -6.9112148), (3.578469668, -6.672573488), (3.001920816, -6.414512859), (2.449407864, -6.137513581), (1.922822868, -5.839647417), (1.417450221, -5.528897707), (0.937404482, -5.197825017), (0.484023103, -4.846060424), (0.04937862, -4.482669543), (-0.220108602, -4.221530185), (-0.354112421, -4.091677381)],
                knots=[0, 0, 0, 0, 1.193225404, 2.35687475, 3.487949324, 4.592342887, 5.665273416, 6.709260648, 7.725799817, 8.71919469, 9.692664653, 10.643553074, 11.573847077, 12.487217793, 13.384029152, 14.266643611, 15.138080182, 16, 16, 16, 16], degree=3))
            add(Edge.make_bspline(
                [(-0.354112421, -4.091677381), (-0.687954777, -4.336238901), (-1.36469164, -4.831993238), (-2.457220721, -5.491503236), (-3.616311833, -6.105133202), (-4.849137014, -6.663426184), (-6.155501273, -7.164833907), (-7.532331542, -7.620724798), (-8.982918656, -8.017005113), (-9.979873138, -8.235475251), (-10.487304519, -8.346672508)],
                knots=[0, 0, 0, 0, 0.895891654, 1.816075456, 2.760633746, 3.735148952, 4.745060468, 5.78983574, 6.875067292, 8, 8, 8, 8], degree=3))
            Line((-10.487304519, -8.346672508), (-10.581859967, -8.006272898))
            add(Edge.make_bspline(
                [(-10.581859967, -8.006272898), (-10.110834321, -7.868872221), (-9.183269378, -7.598296613), (-7.83804971, -7.122751604), (-6.554032396, -6.606440296), (-5.334681224, -6.042862661), (-4.178464198, -5.435332451), (-3.08902742, -4.779483566), (-2.056181335, -4.088247104), (-1.415110101, -3.578144674), (-1.097948607, -3.325778259)],
                knots=[0, 0, 0, 0, 1.105387851, 2.176779602, 3.213352566, 4.222748287, 5.202262626, 6.154710299, 7.087067382, 8, 8, 8, 8], degree=3))
            add(Edge.make_bspline(
                [(-1.097948607, -3.325778259), (-1.260055043, -3.106837933), (-1.589883827, -2.661372453), (-2.048484783, -1.948011623), (-2.492442326, -1.18834854), (-2.920242442, -0.381785035), (-3.331401412, 0.471478138), (-3.720806012, 1.374691494), (-4.095894147, 2.32503193), (-4.327447855, 2.979277785), (-4.44521144, 3.312014139)],
                knots=[0, 0, 0, 0, 0.875624334, 1.781583235, 2.724691925, 3.703827006, 4.716008585, 5.76891757, 6.865316105, 8, 8, 8, 8], degree=3))
            Line((-4.44521144, 3.312014139), (-4.073293347, 3.397114042))
            add(Edge.make_bspline(
                [(-4.073293347, 3.397114042), (-3.933134319, 3.09897675), (-3.657432916, 2.512522417), (-3.221796476, 1.660810191), (-2.775613682, 0.850452935), (-2.31503743, 0.084755389), (-1.845304898, -0.639422738), (-1.362545341, -1.320629255), (-0.870186722, -1.961636505), (-0.524078683, -2.362851182), (-0.354112421, -2.559879136)],
                knots=[0, 0, 0, 0, 1.121804492, 2.206658228, 3.257157778, 4.27140299, 5.248867787, 6.195889759, 7.114040017, 8, 8, 8, 8], degree=3))
            add(Edge.make_bspline(
                [(-0.354112421, -2.559879136), (-0.192509947, -2.36144819), (0.135702757, -1.958437299), (0.582016589, -1.299215138), (1.007149635, -0.591689341), (1.404711522, 0.170425626), (1.772606892, 0.985808869), (2.115397305, 1.853872388), (2.43500954, 2.774833691), (2.620849746, 3.412007893), (2.715787766, 3.737513652)],
                knots=[0, 0, 0, 0, 0.869716896, 1.76638467, 2.70366274, 3.675080695, 4.68700289, 5.743663211, 6.847331519, 8, 8, 8, 8], degree=3))
            Line((2.715787766, 3.737513652), (4.852740874, 2.546115016))
        make_face()
    extrude(amount=EXTRUDE_3_DEPTH)

    # 草图4 → 切除-拉伸1 (cut, through all)
    with BuildSketch(Plane(origin=(0, -12, 0), x_dir=(1, 0, 0), z_dir=(0, 1, 0))):
        with Locations(Location((-10, 3.999978925, 0), (0, 0, 180))):
            Circle(SKETCH_4_R)
        with Locations((10, 3.999978925)):
            Circle(SKETCH_4_R)
    extrude(amount=-CUT_EXTRUDE_1_DEPTH, mode=Mode.SUBTRACT)


solid = part.part
